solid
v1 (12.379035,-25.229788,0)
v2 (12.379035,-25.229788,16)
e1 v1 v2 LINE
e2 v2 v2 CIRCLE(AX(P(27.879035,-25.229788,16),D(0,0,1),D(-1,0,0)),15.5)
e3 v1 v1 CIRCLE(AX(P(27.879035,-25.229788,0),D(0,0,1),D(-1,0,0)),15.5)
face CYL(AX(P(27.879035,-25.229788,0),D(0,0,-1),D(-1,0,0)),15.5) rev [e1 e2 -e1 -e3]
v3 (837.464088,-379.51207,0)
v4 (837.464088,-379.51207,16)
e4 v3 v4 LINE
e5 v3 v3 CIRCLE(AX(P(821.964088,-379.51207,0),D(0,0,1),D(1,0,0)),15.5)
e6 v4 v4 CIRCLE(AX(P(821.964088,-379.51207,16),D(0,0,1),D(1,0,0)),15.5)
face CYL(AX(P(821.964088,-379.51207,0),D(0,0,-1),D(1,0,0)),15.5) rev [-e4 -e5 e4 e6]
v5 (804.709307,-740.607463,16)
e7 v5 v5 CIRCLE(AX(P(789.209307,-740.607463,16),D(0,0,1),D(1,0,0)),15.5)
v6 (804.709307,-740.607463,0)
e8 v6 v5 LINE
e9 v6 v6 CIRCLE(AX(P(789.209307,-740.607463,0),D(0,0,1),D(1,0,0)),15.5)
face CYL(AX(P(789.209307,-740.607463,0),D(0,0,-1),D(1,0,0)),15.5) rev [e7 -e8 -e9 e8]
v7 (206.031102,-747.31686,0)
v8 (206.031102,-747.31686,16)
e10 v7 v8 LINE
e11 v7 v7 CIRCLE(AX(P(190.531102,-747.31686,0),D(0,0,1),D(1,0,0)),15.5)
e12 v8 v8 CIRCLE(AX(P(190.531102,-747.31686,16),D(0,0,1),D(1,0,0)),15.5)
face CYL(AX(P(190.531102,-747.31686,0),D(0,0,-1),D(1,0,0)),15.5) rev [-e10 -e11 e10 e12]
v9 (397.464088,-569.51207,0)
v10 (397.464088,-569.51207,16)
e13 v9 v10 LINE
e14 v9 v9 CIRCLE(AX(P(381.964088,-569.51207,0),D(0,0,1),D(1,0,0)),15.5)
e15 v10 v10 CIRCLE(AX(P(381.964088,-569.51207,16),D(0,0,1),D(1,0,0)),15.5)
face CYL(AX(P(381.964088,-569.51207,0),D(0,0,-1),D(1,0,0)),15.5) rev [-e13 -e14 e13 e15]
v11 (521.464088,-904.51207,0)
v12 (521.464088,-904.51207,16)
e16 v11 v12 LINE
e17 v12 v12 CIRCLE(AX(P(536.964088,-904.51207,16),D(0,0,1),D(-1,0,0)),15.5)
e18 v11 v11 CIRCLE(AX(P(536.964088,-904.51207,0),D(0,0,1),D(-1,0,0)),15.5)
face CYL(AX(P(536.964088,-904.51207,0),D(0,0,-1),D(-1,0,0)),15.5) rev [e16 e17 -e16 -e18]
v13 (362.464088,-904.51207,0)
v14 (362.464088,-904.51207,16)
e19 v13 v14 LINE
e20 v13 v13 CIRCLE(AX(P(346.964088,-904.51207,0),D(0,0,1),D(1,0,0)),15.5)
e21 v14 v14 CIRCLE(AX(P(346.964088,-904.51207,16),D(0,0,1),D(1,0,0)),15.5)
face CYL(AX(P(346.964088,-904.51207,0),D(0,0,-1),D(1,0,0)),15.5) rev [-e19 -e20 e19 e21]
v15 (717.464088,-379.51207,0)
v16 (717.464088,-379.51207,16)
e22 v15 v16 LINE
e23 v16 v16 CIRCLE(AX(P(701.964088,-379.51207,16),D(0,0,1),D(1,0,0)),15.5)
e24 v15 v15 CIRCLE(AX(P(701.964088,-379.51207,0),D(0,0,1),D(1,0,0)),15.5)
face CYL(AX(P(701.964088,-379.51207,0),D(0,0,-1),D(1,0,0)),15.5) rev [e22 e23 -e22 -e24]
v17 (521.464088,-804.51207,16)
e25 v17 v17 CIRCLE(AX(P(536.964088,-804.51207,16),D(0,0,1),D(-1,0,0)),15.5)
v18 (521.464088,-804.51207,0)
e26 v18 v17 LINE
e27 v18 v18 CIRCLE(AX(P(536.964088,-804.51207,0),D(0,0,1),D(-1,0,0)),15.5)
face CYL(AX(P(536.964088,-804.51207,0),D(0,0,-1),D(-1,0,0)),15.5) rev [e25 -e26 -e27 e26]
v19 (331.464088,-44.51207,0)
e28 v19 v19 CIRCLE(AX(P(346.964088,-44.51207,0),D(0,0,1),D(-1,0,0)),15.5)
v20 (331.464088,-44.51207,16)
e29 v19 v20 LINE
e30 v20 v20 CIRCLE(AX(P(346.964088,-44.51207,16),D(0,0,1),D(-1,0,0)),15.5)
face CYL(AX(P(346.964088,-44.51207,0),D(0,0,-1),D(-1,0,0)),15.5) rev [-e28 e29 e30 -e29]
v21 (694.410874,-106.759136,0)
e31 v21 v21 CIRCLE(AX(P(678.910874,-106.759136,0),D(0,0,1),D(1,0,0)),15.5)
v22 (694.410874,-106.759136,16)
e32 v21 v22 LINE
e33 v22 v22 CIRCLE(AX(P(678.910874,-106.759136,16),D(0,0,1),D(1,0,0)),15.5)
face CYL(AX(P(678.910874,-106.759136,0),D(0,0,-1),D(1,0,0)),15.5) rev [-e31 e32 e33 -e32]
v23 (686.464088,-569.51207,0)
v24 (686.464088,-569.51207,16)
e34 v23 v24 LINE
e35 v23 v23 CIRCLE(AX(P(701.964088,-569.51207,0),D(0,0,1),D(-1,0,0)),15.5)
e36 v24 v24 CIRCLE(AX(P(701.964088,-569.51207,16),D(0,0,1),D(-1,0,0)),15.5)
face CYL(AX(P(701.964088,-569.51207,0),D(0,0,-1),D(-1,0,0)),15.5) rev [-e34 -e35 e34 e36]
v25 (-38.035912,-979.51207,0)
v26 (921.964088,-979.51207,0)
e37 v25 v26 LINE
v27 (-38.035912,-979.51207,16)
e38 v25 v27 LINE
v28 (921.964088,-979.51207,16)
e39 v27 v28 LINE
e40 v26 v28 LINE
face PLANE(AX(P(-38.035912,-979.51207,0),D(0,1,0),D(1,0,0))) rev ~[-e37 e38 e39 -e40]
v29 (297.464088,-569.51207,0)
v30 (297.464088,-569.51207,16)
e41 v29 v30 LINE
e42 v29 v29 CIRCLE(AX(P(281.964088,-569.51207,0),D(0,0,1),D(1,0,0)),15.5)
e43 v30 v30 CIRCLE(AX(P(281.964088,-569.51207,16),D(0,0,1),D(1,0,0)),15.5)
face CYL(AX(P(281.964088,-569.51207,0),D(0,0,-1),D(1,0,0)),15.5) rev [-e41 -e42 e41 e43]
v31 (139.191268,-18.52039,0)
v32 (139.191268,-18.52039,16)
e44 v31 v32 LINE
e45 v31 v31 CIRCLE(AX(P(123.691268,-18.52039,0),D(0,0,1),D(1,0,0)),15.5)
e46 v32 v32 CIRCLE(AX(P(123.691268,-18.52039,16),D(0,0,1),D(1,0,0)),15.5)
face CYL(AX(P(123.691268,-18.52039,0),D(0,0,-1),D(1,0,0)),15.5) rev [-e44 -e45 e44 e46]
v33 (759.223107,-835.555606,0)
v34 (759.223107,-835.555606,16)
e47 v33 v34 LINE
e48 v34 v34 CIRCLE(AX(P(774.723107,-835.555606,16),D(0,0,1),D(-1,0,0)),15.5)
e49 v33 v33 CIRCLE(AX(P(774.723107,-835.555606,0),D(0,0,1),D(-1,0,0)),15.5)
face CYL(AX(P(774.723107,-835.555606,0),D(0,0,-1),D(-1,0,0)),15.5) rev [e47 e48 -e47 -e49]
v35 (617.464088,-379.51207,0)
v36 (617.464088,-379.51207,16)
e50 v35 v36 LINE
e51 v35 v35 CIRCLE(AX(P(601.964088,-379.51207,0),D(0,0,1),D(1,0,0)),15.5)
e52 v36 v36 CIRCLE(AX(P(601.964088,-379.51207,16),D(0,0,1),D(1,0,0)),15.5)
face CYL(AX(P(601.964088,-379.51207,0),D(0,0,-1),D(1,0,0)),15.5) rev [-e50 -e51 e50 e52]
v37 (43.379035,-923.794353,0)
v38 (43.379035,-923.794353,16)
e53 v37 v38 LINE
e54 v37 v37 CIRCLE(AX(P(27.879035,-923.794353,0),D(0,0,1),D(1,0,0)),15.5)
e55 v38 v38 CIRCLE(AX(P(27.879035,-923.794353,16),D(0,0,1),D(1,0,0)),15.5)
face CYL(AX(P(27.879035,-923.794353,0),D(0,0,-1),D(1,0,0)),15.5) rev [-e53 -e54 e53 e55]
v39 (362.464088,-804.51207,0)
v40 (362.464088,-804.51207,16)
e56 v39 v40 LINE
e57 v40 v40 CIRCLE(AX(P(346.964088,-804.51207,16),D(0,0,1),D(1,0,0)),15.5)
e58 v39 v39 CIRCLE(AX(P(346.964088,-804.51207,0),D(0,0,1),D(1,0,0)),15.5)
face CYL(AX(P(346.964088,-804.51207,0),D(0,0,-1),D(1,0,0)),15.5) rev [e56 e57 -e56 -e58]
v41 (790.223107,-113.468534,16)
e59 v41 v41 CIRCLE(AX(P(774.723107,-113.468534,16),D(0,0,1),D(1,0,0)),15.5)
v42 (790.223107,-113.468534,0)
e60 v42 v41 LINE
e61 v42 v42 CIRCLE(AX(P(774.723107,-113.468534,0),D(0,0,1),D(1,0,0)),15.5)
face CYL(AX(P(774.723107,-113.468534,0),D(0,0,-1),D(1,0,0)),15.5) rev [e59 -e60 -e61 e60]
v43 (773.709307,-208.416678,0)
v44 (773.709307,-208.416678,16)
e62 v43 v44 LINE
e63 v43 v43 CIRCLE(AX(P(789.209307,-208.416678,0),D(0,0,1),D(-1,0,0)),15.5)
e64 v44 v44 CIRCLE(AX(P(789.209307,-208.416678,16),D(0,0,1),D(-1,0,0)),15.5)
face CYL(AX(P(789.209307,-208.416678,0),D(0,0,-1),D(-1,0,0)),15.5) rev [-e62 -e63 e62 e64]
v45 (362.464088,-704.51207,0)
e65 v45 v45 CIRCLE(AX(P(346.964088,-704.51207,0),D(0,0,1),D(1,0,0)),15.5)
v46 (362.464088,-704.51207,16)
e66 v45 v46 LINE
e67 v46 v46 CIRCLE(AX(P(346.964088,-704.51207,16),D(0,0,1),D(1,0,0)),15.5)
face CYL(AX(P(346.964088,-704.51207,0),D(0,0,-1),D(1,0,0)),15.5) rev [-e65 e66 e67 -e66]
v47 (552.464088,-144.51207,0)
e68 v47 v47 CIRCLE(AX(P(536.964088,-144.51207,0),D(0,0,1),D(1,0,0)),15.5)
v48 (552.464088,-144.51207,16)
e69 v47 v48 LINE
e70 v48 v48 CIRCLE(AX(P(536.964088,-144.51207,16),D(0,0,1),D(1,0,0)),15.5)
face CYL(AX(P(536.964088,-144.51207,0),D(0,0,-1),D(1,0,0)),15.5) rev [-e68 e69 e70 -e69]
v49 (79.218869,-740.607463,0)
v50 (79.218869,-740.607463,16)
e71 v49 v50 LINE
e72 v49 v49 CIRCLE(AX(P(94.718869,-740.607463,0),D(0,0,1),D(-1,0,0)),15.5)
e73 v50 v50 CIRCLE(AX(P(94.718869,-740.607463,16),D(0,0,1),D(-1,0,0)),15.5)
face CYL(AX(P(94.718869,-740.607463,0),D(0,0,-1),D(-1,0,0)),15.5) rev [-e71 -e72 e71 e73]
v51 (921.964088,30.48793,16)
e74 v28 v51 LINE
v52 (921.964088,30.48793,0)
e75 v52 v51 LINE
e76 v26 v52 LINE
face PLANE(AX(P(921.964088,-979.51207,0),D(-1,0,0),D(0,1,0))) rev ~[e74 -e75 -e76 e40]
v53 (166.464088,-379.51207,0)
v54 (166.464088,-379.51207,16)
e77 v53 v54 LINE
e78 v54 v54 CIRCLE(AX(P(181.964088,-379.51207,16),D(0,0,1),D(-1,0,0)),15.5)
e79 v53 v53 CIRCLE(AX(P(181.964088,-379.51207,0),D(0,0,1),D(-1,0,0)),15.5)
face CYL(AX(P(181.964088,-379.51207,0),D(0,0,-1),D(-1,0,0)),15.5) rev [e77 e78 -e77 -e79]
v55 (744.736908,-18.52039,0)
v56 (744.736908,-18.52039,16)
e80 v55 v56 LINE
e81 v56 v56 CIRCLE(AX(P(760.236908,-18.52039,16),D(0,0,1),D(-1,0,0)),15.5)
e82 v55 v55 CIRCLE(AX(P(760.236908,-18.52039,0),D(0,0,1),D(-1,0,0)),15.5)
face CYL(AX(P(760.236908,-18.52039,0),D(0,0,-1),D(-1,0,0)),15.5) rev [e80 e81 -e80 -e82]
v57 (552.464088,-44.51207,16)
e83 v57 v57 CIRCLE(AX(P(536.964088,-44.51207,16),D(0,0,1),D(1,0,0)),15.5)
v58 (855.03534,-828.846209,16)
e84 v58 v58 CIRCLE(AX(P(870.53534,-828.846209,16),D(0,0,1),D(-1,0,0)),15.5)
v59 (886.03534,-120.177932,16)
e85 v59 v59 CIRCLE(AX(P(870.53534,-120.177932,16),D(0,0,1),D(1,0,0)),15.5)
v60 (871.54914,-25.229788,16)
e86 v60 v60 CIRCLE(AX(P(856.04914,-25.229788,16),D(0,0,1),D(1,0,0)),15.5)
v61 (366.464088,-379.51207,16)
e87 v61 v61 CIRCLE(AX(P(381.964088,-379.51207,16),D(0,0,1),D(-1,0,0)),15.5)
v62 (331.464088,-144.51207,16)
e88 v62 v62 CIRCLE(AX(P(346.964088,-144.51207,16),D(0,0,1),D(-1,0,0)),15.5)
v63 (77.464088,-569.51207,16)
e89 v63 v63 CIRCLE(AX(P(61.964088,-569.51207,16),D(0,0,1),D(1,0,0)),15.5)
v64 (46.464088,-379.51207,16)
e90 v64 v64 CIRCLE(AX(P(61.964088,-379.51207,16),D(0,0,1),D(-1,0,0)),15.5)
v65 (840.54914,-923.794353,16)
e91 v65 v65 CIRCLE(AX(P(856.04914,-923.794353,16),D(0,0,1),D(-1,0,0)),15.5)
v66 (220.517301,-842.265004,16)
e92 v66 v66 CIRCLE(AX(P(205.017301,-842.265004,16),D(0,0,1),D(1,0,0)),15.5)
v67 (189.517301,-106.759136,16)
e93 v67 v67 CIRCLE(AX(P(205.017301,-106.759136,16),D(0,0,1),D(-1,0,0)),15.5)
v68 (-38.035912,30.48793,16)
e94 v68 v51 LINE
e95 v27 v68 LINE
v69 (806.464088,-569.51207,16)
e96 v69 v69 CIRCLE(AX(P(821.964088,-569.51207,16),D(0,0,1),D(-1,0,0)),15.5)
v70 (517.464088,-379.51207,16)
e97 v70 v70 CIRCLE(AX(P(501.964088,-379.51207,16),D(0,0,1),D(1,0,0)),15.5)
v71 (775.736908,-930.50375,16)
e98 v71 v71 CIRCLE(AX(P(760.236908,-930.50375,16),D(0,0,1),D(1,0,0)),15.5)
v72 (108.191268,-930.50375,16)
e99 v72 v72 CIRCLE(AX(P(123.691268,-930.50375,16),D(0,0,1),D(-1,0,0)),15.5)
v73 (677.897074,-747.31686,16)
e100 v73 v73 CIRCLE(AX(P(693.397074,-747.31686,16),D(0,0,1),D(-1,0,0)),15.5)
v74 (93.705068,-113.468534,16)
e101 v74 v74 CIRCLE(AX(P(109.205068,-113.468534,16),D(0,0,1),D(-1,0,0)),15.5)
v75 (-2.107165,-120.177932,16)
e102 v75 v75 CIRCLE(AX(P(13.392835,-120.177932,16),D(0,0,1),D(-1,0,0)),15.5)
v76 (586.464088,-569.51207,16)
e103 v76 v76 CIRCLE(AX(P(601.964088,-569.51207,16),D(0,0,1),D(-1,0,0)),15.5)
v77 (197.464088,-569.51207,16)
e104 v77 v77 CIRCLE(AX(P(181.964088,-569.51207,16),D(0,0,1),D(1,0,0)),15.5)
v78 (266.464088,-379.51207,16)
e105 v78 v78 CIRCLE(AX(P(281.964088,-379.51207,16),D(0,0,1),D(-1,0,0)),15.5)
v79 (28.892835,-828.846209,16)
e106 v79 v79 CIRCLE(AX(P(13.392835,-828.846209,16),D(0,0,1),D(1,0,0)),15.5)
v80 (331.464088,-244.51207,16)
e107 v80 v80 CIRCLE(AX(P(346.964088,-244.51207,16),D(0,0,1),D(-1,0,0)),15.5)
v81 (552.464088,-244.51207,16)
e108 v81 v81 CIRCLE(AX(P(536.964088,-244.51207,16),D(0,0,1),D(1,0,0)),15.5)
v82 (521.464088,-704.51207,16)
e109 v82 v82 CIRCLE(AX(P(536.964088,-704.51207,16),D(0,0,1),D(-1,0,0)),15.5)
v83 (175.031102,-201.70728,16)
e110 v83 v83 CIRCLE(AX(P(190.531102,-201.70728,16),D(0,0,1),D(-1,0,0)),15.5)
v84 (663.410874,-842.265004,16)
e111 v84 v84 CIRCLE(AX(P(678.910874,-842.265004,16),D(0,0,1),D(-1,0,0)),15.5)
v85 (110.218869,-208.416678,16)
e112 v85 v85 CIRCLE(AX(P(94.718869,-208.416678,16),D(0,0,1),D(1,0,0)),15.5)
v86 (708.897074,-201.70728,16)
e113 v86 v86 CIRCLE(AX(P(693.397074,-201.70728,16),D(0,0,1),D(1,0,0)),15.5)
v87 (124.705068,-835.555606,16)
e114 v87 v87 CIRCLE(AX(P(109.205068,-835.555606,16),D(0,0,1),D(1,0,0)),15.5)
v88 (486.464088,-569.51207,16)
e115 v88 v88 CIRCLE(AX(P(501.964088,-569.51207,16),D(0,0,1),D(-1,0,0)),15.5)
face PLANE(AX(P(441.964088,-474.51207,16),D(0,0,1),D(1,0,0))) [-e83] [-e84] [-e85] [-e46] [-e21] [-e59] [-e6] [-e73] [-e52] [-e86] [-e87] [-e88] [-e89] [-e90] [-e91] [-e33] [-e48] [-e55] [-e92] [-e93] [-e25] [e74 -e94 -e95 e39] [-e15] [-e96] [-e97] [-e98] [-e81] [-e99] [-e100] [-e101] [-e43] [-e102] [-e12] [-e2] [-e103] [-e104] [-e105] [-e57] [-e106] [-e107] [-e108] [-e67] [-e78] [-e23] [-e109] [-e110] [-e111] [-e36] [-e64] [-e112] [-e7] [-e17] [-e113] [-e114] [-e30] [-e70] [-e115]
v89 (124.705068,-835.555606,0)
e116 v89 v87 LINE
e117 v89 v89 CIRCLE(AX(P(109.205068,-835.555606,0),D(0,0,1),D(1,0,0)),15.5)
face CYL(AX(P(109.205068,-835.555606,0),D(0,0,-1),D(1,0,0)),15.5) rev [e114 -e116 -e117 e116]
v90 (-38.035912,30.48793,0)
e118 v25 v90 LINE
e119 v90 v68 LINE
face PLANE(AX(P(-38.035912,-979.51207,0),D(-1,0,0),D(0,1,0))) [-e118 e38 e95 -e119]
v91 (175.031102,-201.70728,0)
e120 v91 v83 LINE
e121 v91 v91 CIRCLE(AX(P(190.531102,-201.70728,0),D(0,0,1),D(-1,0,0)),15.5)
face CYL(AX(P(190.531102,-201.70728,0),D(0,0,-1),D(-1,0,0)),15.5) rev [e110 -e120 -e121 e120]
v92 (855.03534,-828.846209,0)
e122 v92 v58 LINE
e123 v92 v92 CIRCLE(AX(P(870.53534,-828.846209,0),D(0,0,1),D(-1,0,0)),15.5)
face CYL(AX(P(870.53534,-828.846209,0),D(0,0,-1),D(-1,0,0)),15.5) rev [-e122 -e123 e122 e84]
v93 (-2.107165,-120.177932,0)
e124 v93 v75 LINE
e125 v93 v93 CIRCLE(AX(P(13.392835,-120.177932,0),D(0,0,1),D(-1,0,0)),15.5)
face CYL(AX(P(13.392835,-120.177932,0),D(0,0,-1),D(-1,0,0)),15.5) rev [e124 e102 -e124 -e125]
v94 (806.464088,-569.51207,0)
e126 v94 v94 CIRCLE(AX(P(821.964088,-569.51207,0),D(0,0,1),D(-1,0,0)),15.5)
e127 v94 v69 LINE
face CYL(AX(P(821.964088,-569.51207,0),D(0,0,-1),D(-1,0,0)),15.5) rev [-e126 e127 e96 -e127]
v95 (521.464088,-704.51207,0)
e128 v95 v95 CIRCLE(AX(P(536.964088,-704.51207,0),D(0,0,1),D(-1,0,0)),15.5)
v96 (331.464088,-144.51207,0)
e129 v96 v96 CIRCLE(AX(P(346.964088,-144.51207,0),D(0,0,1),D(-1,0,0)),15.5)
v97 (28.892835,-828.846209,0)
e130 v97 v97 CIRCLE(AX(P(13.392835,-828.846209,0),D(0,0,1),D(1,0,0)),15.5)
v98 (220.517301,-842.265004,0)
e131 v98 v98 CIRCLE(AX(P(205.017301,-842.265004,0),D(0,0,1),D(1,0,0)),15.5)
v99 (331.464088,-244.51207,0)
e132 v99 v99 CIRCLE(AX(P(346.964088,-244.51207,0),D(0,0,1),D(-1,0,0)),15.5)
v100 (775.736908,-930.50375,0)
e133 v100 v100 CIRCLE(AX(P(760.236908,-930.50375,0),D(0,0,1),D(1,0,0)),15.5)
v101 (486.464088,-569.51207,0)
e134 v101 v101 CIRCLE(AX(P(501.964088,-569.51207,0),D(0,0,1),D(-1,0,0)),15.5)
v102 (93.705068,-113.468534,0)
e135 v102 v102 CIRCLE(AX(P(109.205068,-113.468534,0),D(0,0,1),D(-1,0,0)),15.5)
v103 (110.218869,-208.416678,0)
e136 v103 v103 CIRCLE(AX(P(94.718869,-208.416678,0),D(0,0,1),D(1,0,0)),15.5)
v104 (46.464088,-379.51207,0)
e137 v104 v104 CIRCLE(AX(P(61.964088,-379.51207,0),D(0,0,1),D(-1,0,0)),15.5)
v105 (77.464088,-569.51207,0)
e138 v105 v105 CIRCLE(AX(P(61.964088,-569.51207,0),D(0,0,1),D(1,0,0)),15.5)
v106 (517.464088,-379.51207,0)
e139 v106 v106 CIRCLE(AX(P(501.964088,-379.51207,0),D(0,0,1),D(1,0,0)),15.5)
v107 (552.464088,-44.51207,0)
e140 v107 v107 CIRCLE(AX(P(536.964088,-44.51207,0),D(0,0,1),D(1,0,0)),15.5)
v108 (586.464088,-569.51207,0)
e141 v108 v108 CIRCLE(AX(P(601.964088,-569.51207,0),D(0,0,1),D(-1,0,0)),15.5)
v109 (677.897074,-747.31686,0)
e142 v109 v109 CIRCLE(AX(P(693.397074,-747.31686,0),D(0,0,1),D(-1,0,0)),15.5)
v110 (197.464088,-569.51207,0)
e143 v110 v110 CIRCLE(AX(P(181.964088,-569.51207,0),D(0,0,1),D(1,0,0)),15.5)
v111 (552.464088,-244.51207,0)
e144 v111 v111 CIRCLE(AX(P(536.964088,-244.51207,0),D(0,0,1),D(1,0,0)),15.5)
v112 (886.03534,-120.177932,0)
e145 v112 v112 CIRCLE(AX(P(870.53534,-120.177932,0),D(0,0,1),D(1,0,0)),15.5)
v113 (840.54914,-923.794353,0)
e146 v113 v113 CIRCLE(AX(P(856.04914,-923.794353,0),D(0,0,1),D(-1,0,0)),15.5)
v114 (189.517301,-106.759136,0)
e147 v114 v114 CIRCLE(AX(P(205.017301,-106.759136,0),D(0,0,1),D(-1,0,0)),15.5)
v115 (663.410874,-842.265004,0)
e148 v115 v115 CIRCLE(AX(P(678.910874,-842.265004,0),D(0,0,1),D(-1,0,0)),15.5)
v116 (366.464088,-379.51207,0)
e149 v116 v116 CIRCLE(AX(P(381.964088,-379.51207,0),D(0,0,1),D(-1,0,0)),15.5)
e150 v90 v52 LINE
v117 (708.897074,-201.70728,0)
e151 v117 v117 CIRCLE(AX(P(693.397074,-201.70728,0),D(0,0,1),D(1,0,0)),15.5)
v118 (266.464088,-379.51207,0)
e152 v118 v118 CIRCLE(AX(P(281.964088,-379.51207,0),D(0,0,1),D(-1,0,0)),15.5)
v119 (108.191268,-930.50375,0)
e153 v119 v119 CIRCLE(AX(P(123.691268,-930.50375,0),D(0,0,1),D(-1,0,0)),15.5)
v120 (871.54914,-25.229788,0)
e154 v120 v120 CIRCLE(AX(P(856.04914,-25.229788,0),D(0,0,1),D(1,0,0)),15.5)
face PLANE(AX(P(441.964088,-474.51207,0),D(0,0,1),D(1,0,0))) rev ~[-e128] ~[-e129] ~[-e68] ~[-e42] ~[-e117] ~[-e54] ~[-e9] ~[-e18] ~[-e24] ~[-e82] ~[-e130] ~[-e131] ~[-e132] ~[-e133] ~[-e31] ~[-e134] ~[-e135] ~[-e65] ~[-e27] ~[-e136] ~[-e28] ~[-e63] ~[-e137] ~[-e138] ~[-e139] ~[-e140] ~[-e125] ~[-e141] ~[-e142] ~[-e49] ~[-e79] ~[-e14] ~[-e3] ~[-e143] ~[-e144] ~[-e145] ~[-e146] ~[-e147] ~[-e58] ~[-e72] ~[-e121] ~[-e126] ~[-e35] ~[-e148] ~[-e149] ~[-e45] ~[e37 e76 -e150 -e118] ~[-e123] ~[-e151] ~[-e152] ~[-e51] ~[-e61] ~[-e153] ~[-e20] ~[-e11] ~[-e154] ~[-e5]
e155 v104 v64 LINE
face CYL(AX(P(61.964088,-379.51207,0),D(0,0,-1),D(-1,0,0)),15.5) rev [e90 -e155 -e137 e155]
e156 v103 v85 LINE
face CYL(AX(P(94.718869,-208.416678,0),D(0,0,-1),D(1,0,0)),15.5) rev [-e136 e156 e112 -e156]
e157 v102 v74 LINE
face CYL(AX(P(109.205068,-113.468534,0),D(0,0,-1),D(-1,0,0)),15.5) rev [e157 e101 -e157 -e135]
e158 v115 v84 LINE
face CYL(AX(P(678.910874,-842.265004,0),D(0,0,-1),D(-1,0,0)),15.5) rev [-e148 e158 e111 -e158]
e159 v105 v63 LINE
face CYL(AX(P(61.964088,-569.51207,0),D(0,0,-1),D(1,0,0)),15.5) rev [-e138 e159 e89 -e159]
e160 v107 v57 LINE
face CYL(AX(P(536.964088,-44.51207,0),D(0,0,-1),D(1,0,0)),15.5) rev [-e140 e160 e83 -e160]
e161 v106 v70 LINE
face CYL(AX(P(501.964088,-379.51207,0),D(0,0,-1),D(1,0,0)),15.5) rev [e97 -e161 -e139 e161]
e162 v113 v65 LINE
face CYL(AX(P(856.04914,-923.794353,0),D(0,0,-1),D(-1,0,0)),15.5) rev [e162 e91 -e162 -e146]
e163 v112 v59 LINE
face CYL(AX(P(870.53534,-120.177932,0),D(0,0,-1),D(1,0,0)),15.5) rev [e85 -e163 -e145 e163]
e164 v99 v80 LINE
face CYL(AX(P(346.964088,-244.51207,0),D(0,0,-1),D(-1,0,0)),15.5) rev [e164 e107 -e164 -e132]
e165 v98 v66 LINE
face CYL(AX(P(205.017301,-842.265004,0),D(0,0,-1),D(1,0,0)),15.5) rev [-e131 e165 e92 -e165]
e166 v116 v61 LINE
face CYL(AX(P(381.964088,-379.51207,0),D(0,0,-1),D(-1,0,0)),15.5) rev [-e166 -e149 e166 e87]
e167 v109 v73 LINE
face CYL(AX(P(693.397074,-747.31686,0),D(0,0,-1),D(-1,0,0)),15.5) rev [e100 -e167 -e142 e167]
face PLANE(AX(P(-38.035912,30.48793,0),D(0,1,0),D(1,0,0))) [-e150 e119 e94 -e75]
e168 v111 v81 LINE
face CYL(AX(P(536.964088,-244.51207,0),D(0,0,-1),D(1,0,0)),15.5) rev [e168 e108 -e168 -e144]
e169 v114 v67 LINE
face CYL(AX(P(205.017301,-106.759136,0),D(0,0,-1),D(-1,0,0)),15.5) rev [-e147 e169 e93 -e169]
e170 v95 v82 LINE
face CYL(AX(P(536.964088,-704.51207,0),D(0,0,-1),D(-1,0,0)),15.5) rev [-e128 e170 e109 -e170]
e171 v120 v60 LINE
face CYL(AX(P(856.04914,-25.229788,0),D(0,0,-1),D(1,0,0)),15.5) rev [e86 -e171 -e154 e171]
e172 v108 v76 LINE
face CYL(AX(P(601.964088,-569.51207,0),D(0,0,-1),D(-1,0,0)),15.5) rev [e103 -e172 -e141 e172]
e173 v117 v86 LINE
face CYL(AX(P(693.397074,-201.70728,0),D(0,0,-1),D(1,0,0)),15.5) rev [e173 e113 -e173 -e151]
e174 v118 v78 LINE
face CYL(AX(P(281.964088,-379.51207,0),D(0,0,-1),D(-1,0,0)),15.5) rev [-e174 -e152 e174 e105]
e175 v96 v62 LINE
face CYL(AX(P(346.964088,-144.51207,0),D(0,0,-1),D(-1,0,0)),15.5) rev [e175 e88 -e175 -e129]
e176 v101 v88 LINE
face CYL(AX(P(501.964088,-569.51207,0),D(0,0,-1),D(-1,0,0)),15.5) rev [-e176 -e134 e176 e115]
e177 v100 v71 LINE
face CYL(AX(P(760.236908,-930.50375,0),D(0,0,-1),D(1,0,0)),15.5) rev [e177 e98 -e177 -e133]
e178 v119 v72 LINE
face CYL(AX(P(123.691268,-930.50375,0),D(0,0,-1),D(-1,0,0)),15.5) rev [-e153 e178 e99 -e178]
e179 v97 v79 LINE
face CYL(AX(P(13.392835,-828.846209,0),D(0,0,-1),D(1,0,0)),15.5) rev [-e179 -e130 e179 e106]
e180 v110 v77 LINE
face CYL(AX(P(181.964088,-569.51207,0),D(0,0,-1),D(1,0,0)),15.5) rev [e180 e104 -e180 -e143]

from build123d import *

# Parameters (mm, degrees)
SKETCH_1_W      = 960
SKETCH_1_H      = 1010
SKETCH_1_R      = 15.5
EXTRUDE_3_DEPTH = 16


with BuildPart() as part:
    # 草图1 → 拉伸3 (new body)
    with BuildSketch(Plane.XY):
        with Locations((441.964087771, -474.512070354)):
            Rectangle(SKETCH_1_W, SKETCH_1_H)
        with Locations((190.531101581, -747.31686037)):
            Circle(SKETCH_1_R, mode=Mode.SUBTRACT)
        with Locations((27.879035044, -923.794352563)):
            Circle(SKETCH_1_R, mode=Mode.SUBTRACT)
        with Locations((109.205068312, -835.555606466)):
            Circle(SKETCH_1_R, mode=Mode.SUBTRACT)
        with Locations((205.017301257, -842.265004211)):
            Circle(SKETCH_1_R, mode=Mode.SUBTRACT)
        with Locations(Location((94.718868636, -740.607462625, 0), (0, 0, 180))):
            Circle(SKETCH_1_R, mode=Mode.SUBTRACT)
        with Locations((346.964087771, -904.512070354)):
            Circle(SKETCH_1_R, mode=Mode.SUBTRACT)
        with Locations((346.964087771, -704.512070354)):
            Circle(SKETCH_1_R, mode=Mode.SUBTRACT)
        with Locations((346.964087771, -804.512070354)):
            Circle(SKETCH_1_R, mode=Mode.SUBTRACT)
        with Locations((381.964087771, -569.512070354)):
            Circle(SKETCH_1_R, mode=Mode.SUBTRACT)
        with Locations((181.964087771, -569.512070354)):
            Circle(SKETCH_1_R, mode=Mode.SUBTRACT)
        with Locations((281.964087771, -569.512070354)):
            Circle(SKETCH_1_R, mode=Mode.SUBTRACT)
        with Locations((61.964087771, -569.512070354)):
            Circle(SKETCH_1_R, mode=Mode.SUBTRACT)
        with Locations((13.392835367, -828.846208722)):
            Circle(SKETCH_1_R, mode=Mode.SUBTRACT)
        with Locations(Location((123.691267988, -930.503750308, 0), (0, 0, 180))):
            Circle(SKETCH_1_R, mode=Mode.SUBTRACT)
        with Locations((760.236907554, -930.503750308)):
            Circle(SKETCH_1_R, mode=Mode.SUBTRACT)
        with Locations(Location((870.535340175, -828.846208722, 0), (0, 0, 180))):
            Circle(SKETCH_1_R, mode=Mode.SUBTRACT)
        with Locations(Location((821.964087771, -569.512070354, 0), (0, 0, 180))):
            Circle(SKETCH_1_R, mode=Mode.SUBTRACT)
        with Locations(Location((601.964087771, -569.512070354, 0), (0, 0, 180))):
            Circle(SKETCH_1_R, mode=Mode.SUBTRACT)
        with Locations(Location((701.964087771, -569.512070354, 0), (0, 0, 180))):
            Circle(SKETCH_1_R, mode=Mode.SUBTRACT)
        with Locations(Location((501.964087771, -569.512070354, 0), (0, 0, 180))):
            Circle(SKETCH_1_R, mode=Mode.SUBTRACT)
        with Locations(Location((536.964087771, -804.512070354, 0), (0, 0, 180))):
            Circle(SKETCH_1_R, mode=Mode.SUBTRACT)
        with Locations(Location((536.964087771, -704.512070354, 0), (0, 0, 180))):
            Circle(SKETCH_1_R, mode=Mode.SUBTRACT)
        with Locations(Location((536.964087771, -904.512070354, 0), (0, 0, 180))):
            Circle(SKETCH_1_R, mode=Mode.SUBTRACT)
        with Locations((789.209306906, -740.607462625)):
            Circle(SKETCH_1_R, mode=Mode.SUBTRACT)
        with Locations(Location((678.910874285, -842.265004211, 0), (0, 0, 180))):
            Circle(SKETCH_1_R, mode=Mode.SUBTRACT)
        with Locations(Location((774.72310723, -835.555606466, 0), (0, 0, 180))):
            Circle(SKETCH_1_R, mode=Mode.SUBTRACT)
        with Locations(Location((856.049140499, -923.794352563, 0), (0, 0, 180))):
            Circle(SKETCH_1_R, mode=Mode.SUBTRACT)
        with Locations(Location((693.397073961, -747.31686037, 0), (0, 0, 180))):
            Circle(SKETCH_1_R, mode=Mode.SUBTRACT)
        with Locations((693.397073961, -201.707280338)):
            Circle(SKETCH_1_R, mode=Mode.SUBTRACT)
        with Locations((856.049140499, -25.229788144)):
            Circle(SKETCH_1_R, mode=Mode.SUBTRACT)
        with Locations((774.72310723, -113.468534241)):
            Circle(SKETCH_1_R, mode=Mode.SUBTRACT)
        with Locations((678.910874285, -106.759136496)):
            Circle(SKETCH_1_R, mode=Mode.SUBTRACT)
        with Locations(Location((789.209306906, -208.416678082, 0), (0, 0, 180))):
            Circle(SKETCH_1_R, mode=Mode.SUBTRACT)
        with Locations((536.964087771, -44.512070354)):
            Circle(SKETCH_1_R, mode=Mode.SUBTRACT)
        with Locations((536.964087771, -244.512070354)):
            Circle(SKETCH_1_R, mode=Mode.SUBTRACT)
        with Locations((536.964087771, -144.512070354)):
            Circle(SKETCH_1_R, mode=Mode.SUBTRACT)
        with Locations((501.964087771, -379.512070354)):
            Circle(SKETCH_1_R, mode=Mode.SUBTRACT)
        with Locations((701.964087771, -379.512070354)):
            Circle(SKETCH_1_R, mode=Mode.SUBTRACT)
        with Locations((601.964087771, -379.512070354)):
            Circle(SKETCH_1_R, mode=Mode.SUBTRACT)
        with Locations((821.964087771, -379.512070354)):
            Circle(SKETCH_1_R, mode=Mode.SUBTRACT)
        with Locations((870.535340175, -120.177931986)):
            Circle(SKETCH_1_R, mode=Mode.SUBTRACT)
        with Locations(Location((760.236907554, -18.520390399, 0), (0, 0, 180))):
            Circle(SKETCH_1_R, mode=Mode.SUBTRACT)
        with Locations((123.691267988, -18.520390399)):
            Circle(SKETCH_1_R, mode=Mode.SUBTRACT)
        with Locations(Location((13.392835367, -120.177931986, 0), (0, 0, 180))):
            Circle(SKETCH_1_R, mode=Mode.SUBTRACT)
        with Locations(Location((61.964087771, -379.512070354, 0), (0, 0, 180))):
            Circle(SKETCH_1_R, mode=Mode.SUBTRACT)
        with Locations(Location((281.964087771, -379.512070354, 0), (0, 0, 180))):
            Circle(SKETCH_1_R, mode=Mode.SUBTRACT)
        with Locations(Location((181.964087771, -379.512070354, 0), (0, 0, 180))):
            Circle(SKETCH_1_R, mode=Mode.SUBTRACT)
        with Locations(Location((381.964087771, -379.512070354, 0), (0, 0, 180))):
            Circle(SKETCH_1_R, mode=Mode.SUBTRACT)
        with Locations(Location((346.964087771, -144.512070354, 0), (0, 0, 180))):
            Circle(SKETCH_1_R, mode=Mode.SUBTRACT)
        with Locations(Location((346.964087771, -244.512070354, 0), (0, 0, 180))):
            Circle(SKETCH_1_R, mode=Mode.SUBTRACT)
        with Locations(Location((346.964087771, -44.512070354, 0), (0, 0, 180))):
            Circle(SKETCH_1_R, mode=Mode.SUBTRACT)
        with Locations((94.718868636, -208.416678082)):
            Circle(SKETCH_1_R, mode=Mode.SUBTRACT)
        with Locations(Location((205.017301257, -106.759136496, 0), (0, 0, 180))):
            Circle(SKETCH_1_R, mode=Mode.SUBTRACT)
        with Locations(Location((109.205068312, -113.468534241, 0), (0, 0, 180))):
            Circle(SKETCH_1_R, mode=Mode.SUBTRACT)
        with Locations(Location((27.879035044, -25.229788144, 0), (0, 0, 180))):
            Circle(SKETCH_1_R, mode=Mode.SUBTRACT)
        with Locations(Location((190.531101581, -201.707280338, 0), (0, 0, 180))):
            Circle(SKETCH_1_R, mode=Mode.SUBTRACT)
    extrude(amount=EXTRUDE_3_DEPTH)


solid = part.part
